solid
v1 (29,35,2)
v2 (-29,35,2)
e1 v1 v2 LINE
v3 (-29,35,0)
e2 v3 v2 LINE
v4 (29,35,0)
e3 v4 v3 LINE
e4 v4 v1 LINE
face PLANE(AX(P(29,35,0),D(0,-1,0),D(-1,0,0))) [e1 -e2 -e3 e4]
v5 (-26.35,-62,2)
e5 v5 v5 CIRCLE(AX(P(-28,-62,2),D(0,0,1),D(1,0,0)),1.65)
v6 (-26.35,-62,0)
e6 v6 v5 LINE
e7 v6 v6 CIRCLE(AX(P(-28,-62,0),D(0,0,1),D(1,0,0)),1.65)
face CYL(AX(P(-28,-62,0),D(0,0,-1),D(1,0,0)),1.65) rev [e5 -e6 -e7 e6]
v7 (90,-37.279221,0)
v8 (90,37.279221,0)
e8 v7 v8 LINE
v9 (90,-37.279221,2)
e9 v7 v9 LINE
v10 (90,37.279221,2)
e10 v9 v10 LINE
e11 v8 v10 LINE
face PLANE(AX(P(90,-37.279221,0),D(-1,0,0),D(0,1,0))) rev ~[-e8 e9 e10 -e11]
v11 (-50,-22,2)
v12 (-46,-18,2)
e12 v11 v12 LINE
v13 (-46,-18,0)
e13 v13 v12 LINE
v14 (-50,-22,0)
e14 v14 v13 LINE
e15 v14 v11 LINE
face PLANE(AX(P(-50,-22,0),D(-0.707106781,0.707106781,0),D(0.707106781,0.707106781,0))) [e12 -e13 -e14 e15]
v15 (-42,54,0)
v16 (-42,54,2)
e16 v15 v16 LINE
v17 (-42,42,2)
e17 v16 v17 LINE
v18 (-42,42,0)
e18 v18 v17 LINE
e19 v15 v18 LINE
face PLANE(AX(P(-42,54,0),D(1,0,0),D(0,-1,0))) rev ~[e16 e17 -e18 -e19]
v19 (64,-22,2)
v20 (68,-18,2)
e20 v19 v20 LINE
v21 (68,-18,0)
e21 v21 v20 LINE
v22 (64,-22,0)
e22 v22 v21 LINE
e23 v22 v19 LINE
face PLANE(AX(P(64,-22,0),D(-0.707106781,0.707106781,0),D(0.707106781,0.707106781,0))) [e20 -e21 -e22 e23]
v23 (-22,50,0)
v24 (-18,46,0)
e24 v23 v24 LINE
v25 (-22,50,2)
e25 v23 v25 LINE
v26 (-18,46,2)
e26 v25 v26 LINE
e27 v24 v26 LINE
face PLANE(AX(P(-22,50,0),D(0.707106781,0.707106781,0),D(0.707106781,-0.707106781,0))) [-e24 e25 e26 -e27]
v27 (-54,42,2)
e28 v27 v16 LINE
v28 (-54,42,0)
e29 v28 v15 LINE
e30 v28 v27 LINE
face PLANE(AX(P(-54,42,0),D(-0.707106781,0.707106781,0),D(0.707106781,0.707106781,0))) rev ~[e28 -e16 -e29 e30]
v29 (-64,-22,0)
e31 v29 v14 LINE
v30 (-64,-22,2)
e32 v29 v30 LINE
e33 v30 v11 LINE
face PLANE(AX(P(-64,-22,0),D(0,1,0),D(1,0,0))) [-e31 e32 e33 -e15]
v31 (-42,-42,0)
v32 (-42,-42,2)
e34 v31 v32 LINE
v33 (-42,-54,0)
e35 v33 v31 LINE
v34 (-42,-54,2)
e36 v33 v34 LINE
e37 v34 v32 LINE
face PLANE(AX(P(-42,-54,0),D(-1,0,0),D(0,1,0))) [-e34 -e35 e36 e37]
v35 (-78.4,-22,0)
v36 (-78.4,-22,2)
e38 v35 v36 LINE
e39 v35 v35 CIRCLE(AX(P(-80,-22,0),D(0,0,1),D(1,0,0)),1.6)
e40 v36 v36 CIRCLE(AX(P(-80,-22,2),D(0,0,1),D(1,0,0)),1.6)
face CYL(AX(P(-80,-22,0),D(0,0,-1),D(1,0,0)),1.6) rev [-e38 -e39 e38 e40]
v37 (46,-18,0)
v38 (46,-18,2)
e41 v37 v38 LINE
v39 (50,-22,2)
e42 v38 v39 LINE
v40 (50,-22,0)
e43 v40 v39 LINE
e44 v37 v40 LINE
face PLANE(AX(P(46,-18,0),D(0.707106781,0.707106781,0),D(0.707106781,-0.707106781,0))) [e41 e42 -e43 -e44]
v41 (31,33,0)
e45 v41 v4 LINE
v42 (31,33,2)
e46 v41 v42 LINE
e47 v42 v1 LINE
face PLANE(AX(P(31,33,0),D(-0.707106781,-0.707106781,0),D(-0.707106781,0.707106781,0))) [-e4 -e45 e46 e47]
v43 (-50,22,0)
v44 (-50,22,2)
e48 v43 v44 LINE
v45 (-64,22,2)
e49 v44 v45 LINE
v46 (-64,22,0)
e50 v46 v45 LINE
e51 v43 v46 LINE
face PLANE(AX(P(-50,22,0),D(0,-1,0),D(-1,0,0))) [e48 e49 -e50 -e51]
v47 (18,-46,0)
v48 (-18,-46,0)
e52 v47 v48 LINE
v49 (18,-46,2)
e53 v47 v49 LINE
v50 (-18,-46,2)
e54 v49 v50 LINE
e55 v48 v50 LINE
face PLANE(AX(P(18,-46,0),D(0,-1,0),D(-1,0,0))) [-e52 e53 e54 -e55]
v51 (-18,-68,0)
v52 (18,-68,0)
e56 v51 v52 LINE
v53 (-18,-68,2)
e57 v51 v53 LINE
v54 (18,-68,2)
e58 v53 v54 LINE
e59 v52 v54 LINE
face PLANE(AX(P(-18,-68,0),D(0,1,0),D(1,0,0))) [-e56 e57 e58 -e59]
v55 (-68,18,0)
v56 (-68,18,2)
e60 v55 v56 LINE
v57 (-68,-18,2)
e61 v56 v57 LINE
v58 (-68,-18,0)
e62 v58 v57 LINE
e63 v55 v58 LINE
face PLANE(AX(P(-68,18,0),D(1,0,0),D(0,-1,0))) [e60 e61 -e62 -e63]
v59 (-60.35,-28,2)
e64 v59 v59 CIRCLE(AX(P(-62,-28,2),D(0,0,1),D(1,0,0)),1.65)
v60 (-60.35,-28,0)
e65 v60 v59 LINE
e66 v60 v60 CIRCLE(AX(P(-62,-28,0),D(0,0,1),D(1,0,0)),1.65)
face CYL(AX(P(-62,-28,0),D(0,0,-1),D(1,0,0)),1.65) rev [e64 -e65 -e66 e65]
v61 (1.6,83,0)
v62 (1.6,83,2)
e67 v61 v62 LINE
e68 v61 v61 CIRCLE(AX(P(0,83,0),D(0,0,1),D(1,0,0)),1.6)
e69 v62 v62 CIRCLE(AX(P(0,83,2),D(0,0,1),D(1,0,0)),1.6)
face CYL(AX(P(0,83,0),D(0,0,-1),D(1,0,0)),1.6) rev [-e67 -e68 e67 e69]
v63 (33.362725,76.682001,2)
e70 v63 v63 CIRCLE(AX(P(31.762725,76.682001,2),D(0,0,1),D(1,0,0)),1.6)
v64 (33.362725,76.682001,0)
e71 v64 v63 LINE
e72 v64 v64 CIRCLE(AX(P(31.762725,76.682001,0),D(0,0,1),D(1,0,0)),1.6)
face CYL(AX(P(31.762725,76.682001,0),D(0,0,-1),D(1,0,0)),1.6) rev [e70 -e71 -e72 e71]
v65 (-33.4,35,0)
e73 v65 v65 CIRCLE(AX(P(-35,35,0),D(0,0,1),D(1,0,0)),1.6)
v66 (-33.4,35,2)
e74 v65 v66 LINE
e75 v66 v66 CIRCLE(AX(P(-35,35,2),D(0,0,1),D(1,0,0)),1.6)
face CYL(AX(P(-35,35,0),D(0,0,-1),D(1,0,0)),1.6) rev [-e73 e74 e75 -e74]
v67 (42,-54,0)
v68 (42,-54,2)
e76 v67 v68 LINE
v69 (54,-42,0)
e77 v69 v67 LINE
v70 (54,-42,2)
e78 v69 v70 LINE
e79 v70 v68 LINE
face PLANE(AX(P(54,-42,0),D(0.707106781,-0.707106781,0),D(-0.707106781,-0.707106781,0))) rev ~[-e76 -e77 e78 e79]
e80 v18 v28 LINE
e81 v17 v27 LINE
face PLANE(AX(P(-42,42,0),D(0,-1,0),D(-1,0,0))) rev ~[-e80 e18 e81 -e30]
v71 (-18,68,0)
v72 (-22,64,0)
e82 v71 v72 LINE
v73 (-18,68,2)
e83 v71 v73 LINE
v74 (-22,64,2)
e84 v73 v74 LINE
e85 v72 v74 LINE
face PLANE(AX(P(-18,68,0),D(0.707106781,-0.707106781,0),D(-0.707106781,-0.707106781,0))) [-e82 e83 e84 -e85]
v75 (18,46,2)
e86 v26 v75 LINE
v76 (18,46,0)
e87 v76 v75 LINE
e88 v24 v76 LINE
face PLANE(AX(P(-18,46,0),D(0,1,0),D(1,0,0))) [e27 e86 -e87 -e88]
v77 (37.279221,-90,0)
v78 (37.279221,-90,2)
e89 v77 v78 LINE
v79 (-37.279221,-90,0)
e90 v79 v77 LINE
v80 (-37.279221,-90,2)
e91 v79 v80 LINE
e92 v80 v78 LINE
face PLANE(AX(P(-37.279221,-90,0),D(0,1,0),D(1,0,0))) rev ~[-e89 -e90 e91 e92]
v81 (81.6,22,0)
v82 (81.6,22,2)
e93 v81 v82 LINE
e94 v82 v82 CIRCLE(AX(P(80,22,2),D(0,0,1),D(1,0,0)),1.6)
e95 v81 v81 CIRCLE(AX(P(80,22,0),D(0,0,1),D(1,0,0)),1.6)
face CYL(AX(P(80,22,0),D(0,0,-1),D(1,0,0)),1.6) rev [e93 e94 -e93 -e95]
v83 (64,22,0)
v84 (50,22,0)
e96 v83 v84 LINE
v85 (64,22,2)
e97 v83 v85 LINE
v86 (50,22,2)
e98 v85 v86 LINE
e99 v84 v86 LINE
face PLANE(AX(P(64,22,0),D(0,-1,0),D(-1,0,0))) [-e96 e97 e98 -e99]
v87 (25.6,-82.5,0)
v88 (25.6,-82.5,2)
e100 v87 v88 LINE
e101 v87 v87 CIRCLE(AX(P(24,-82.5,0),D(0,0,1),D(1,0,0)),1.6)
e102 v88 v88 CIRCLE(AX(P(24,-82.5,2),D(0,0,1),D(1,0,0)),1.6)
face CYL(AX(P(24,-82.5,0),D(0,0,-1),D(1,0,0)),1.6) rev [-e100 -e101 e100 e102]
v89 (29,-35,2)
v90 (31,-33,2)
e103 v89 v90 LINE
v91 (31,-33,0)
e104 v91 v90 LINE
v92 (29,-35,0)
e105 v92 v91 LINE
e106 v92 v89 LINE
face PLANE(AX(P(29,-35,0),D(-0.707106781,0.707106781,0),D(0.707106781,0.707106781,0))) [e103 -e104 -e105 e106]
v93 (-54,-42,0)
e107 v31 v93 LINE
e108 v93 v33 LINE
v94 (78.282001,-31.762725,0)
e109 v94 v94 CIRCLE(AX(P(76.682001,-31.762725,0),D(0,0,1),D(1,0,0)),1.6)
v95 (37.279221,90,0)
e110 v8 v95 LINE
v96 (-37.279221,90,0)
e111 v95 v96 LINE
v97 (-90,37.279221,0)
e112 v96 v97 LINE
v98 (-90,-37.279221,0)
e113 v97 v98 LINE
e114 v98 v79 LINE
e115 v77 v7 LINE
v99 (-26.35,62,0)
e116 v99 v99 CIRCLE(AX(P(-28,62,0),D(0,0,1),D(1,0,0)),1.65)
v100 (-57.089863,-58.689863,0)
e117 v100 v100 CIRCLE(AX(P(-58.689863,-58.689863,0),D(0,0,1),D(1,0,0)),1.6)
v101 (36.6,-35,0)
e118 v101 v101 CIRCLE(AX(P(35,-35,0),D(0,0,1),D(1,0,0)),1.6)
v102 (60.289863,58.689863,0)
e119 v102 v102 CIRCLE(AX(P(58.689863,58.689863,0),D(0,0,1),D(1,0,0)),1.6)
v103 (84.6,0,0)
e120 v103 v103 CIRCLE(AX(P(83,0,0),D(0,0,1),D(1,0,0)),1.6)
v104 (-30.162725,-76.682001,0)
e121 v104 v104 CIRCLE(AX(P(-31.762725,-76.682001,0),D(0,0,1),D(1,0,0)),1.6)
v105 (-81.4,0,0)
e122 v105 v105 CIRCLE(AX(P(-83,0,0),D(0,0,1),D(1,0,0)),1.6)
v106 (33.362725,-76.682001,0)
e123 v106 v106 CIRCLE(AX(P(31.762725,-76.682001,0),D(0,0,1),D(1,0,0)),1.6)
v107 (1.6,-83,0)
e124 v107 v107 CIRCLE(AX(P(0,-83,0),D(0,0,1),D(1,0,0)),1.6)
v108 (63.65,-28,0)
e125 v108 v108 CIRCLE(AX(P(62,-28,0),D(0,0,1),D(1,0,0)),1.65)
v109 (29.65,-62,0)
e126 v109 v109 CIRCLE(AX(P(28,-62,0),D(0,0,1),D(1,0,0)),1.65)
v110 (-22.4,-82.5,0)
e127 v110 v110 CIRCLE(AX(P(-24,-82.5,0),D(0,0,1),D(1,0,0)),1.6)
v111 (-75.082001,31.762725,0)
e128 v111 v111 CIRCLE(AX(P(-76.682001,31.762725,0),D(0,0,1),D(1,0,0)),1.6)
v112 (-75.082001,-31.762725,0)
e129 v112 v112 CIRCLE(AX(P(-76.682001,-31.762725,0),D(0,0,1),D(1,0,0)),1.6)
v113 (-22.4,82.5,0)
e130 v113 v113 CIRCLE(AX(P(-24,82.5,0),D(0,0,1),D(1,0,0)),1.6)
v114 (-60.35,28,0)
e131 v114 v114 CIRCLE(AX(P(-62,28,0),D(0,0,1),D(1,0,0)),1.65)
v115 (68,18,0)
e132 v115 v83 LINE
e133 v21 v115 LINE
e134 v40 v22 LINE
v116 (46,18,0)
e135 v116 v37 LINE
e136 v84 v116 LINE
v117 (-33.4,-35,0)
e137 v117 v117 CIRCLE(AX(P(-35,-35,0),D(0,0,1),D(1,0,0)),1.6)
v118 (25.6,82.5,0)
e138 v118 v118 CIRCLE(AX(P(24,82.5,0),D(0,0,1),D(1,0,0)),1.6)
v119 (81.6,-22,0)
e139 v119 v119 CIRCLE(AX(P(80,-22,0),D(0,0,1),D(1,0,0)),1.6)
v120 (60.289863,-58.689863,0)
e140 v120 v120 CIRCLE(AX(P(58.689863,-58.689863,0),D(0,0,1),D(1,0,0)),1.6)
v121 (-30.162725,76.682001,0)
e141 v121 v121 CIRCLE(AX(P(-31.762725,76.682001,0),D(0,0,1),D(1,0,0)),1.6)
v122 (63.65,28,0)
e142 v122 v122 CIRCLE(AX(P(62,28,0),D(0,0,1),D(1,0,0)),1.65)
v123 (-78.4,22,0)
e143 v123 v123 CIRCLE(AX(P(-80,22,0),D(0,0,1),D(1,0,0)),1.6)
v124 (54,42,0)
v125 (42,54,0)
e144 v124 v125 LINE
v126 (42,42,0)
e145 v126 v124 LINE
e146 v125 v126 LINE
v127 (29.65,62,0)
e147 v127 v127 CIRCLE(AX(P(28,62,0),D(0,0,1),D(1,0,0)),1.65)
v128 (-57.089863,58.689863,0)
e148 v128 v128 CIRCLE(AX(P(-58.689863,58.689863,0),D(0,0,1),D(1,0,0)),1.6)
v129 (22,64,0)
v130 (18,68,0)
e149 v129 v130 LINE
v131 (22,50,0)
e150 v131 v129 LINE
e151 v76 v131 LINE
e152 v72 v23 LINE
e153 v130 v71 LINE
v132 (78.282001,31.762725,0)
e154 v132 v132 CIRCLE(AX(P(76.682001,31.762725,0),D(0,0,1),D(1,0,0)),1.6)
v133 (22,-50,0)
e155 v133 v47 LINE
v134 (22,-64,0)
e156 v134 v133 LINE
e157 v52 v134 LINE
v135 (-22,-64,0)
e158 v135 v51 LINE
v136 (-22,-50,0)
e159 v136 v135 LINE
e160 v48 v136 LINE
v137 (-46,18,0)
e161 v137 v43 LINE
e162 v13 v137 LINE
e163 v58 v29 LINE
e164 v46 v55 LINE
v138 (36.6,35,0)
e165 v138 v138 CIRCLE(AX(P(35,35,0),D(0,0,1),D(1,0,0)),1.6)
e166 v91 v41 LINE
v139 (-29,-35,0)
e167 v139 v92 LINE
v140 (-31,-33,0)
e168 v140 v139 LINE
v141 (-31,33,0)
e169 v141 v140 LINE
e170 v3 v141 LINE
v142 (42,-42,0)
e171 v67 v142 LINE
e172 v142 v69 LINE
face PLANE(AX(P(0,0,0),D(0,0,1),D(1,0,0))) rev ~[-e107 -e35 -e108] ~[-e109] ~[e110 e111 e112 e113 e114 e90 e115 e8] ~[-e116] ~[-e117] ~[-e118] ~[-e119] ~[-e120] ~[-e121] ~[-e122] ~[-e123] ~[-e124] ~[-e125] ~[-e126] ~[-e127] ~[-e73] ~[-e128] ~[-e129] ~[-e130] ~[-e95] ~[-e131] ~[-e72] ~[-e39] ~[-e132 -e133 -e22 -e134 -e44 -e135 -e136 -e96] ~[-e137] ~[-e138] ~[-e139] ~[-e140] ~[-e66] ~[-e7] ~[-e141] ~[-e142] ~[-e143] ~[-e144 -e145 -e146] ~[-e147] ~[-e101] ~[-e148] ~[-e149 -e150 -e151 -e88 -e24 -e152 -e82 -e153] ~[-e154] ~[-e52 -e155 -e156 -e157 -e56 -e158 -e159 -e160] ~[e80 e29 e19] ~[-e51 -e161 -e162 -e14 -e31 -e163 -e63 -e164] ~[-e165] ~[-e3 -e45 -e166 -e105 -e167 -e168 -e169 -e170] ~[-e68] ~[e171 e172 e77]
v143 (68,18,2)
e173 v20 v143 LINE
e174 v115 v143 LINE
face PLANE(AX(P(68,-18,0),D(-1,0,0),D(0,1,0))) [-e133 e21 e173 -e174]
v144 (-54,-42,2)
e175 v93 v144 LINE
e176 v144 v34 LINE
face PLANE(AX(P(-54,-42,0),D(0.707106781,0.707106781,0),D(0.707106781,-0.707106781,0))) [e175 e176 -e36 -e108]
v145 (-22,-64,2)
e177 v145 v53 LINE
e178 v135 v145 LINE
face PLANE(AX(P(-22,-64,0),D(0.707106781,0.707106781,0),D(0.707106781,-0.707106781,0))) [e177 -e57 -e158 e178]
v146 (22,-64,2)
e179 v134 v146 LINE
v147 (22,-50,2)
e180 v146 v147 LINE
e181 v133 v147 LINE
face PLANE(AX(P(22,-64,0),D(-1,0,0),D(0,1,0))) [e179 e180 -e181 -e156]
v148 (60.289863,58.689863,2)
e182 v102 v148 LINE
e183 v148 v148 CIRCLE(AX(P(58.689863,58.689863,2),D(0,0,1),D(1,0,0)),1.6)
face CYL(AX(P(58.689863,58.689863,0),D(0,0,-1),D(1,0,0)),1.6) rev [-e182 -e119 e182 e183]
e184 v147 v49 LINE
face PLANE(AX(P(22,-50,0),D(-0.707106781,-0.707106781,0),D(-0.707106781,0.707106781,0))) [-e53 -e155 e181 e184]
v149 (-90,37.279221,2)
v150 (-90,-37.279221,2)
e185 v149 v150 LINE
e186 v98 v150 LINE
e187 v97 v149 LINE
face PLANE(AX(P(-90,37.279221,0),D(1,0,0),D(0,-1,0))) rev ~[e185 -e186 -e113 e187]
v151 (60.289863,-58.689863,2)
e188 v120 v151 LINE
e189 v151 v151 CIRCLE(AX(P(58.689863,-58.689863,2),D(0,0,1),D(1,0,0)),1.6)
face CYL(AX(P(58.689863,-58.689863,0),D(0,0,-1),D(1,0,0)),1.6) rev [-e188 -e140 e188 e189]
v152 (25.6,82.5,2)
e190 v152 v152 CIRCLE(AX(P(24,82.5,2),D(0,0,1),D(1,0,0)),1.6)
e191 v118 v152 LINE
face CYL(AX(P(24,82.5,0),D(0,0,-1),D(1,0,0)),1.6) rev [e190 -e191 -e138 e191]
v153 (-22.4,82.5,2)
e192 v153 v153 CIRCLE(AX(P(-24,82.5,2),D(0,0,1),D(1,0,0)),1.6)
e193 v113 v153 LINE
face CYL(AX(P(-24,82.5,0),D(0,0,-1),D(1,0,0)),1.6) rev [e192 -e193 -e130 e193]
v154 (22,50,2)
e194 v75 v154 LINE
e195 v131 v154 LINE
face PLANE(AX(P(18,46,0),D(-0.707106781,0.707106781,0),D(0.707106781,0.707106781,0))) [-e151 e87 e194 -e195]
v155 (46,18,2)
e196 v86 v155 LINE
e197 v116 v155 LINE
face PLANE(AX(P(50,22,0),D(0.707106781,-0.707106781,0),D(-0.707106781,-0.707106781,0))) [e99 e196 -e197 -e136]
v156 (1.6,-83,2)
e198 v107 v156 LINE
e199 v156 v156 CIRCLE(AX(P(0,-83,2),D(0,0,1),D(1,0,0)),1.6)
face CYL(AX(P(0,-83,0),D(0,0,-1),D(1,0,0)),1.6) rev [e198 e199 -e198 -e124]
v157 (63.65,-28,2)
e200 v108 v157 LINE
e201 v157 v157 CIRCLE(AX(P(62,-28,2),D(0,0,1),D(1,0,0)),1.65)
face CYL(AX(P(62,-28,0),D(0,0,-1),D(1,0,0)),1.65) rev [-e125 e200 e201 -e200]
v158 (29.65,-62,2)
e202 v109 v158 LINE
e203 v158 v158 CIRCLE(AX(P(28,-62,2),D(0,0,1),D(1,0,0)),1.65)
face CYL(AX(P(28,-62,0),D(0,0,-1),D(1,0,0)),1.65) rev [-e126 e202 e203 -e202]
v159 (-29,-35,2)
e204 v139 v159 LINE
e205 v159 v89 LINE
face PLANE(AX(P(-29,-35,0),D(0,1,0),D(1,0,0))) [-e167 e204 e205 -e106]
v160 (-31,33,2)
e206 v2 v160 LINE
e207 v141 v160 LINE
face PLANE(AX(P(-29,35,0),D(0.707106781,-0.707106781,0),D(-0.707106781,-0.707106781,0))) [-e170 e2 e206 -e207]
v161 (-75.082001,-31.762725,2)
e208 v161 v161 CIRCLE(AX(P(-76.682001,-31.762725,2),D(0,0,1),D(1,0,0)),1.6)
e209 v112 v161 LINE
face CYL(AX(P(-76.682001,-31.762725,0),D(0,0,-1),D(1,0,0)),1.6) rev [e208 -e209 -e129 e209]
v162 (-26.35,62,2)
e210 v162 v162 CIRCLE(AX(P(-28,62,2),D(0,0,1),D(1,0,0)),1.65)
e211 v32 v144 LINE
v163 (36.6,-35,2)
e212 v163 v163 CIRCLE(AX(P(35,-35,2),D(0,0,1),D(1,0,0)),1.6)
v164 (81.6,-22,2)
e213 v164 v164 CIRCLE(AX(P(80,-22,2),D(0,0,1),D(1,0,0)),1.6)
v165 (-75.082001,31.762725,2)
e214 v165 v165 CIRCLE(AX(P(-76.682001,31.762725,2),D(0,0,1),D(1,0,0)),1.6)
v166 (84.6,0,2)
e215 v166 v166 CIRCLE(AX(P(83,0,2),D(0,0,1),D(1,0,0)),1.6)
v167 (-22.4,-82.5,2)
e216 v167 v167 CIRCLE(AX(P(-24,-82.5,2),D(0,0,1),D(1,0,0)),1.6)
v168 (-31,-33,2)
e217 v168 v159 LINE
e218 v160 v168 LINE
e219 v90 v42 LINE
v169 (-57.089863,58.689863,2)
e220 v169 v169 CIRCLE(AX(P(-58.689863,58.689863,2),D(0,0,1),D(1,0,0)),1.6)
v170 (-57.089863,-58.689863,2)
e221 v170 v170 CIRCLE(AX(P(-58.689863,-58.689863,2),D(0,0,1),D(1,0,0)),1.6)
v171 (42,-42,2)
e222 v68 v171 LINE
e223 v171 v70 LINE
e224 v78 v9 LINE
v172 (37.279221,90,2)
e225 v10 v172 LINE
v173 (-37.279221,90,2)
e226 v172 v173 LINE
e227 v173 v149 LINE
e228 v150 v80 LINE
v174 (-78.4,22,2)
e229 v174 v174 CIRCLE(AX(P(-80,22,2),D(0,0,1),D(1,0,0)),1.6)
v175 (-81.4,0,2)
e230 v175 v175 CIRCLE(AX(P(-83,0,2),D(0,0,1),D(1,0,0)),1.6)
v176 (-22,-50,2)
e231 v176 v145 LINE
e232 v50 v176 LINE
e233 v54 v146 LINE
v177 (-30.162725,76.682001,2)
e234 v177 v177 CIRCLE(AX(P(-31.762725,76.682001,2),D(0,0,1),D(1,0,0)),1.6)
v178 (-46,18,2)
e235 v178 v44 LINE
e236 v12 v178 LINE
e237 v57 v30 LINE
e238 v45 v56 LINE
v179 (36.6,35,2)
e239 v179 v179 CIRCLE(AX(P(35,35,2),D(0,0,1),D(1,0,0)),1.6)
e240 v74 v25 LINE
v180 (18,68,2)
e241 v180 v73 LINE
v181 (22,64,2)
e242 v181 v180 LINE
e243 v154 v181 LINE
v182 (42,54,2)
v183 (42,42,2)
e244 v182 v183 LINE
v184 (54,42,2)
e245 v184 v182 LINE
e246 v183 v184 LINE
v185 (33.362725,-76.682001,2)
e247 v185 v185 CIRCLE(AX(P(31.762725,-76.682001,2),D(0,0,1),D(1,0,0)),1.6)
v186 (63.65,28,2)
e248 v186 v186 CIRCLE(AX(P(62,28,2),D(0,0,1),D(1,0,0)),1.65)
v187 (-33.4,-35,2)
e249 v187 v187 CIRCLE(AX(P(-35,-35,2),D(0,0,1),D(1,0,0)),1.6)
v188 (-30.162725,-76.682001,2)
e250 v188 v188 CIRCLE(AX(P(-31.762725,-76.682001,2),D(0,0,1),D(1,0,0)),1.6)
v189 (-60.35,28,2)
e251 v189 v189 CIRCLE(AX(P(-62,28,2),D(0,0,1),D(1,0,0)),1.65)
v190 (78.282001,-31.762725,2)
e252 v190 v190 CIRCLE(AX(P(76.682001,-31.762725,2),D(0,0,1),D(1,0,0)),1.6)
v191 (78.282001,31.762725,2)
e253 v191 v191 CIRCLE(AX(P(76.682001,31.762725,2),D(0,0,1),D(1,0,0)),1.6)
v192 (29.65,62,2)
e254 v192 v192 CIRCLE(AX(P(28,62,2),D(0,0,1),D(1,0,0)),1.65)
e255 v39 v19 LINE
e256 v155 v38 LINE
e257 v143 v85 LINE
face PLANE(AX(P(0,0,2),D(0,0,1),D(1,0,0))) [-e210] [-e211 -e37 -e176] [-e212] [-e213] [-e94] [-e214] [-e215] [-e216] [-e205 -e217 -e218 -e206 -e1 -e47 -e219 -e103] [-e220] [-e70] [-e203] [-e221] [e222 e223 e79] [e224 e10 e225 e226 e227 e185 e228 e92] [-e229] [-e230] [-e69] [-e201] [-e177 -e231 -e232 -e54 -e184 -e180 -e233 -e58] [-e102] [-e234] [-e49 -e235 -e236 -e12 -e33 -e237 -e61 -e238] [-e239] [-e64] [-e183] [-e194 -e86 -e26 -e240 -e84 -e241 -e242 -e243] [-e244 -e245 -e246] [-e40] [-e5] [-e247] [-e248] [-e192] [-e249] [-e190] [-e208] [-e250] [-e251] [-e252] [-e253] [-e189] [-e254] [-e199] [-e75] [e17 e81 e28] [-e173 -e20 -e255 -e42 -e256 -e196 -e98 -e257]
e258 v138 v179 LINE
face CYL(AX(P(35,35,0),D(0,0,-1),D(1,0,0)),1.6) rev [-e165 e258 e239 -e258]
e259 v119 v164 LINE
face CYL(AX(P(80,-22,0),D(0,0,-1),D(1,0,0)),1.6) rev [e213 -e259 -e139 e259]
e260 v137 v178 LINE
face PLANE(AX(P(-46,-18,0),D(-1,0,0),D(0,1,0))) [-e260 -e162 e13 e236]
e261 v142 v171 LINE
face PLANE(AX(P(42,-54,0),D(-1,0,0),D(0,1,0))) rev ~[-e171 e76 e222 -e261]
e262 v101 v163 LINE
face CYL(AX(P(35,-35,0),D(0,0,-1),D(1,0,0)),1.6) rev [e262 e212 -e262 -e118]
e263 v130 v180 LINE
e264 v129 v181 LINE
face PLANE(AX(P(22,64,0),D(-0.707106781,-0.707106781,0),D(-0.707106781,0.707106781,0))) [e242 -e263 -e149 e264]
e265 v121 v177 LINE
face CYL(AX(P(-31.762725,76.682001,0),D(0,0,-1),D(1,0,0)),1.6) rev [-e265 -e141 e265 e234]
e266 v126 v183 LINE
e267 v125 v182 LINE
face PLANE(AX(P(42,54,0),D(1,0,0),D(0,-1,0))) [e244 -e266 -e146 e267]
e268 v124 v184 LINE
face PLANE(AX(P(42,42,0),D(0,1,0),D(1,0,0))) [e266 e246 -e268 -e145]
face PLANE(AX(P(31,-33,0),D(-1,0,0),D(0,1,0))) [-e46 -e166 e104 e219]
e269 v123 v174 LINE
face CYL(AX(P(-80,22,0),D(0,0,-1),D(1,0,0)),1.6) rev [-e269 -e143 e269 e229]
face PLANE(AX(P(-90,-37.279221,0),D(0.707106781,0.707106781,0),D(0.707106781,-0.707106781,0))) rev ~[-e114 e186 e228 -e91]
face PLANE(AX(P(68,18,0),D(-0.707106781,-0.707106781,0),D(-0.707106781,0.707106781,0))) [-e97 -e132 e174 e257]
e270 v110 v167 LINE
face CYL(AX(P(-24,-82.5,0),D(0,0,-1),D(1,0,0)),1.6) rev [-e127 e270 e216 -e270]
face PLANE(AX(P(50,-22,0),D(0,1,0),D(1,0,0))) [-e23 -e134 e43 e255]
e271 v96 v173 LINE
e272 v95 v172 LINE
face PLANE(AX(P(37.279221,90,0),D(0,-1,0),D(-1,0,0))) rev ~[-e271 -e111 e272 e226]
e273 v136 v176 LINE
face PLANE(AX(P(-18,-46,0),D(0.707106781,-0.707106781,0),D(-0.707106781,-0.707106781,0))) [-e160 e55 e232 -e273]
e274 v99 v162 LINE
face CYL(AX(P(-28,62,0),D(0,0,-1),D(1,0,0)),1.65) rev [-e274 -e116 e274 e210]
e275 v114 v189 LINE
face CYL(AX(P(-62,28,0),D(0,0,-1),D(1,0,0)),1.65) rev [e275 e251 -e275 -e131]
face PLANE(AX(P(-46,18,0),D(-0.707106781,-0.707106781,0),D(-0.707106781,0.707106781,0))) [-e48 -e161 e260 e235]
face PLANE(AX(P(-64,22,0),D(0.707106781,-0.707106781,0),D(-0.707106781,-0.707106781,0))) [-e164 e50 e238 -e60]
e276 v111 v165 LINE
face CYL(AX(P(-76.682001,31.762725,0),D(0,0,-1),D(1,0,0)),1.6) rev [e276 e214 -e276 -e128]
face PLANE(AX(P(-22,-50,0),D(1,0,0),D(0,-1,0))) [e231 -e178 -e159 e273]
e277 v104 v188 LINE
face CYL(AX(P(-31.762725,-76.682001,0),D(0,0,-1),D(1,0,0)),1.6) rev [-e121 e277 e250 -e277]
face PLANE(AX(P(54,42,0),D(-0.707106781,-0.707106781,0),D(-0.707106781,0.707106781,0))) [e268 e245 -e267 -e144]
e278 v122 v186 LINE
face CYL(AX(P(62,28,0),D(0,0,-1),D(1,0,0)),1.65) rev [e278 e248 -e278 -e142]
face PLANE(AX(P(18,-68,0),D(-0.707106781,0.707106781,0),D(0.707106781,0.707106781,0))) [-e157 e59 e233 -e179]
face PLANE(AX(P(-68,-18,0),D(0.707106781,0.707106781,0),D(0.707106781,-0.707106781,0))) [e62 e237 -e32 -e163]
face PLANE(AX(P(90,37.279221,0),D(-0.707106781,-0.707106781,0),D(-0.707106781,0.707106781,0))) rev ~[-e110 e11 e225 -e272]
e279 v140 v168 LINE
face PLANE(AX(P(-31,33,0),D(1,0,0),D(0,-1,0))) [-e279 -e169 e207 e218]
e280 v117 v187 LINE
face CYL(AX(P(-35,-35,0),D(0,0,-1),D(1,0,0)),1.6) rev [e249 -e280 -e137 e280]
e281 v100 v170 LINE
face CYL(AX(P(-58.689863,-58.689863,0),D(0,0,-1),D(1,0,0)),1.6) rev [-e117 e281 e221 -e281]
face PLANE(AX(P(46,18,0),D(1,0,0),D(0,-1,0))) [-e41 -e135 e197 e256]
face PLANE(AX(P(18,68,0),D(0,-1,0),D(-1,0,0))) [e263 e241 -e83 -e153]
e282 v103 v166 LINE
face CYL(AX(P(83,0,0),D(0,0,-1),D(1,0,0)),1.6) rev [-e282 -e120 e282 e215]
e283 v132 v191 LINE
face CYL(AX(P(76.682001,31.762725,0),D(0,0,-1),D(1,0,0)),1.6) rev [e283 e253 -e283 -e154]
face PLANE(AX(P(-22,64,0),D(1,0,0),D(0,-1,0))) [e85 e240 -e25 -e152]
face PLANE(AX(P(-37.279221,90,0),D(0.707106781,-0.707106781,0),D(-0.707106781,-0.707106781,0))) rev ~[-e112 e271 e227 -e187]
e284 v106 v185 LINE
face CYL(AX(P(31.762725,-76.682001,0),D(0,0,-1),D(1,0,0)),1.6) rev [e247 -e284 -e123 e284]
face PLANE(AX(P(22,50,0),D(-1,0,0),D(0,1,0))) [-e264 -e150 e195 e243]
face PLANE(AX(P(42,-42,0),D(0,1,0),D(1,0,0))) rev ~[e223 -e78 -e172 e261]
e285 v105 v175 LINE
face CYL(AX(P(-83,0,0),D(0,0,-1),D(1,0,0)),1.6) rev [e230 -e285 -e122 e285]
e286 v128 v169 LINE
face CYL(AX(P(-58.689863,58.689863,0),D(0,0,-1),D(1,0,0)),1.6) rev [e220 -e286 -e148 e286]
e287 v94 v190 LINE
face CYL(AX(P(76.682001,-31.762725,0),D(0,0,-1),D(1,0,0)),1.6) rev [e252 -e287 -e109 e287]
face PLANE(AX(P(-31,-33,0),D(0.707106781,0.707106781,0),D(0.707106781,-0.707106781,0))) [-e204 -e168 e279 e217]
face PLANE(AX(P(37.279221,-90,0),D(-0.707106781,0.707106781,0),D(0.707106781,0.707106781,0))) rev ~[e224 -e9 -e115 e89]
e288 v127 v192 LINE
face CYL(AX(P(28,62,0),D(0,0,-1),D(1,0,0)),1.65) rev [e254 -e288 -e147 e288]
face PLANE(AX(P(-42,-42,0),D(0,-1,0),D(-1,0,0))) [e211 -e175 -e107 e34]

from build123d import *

# Parameters (mm, degrees)
SKETCH_1_R              = 1.6
EXTRUDE_16_DEPTH        = 2
SKETCH_2_R              = 1.6
CUT_EXTRUDE_M3_DEPTH    = 2
CUT_EXTRUDE_537_DEPTH   = 2
SKETCH_4_R              = 1.65
F_8XM3_DEPTH            = 2
CUT_EXTRUDE_62X70_DEPTH = 2


with BuildPart() as part:
    # 草图1 → 正八边形下板_外围16孔_无支脚孔 (new body)
    with BuildSketch(Plane.XY):
        Polygon((90, 37.279220614), (37.279220614, 90), (-37.279220614, 90), (-90, 37.279220614), (-90, -37.279220614), (-37.279220614, -90), (37.279220614, -90), (90, -37.279220614), align=None)
        with Locations((83, 0)):
            Circle(SKETCH_1_R, mode=Mode.SUBTRACT)
        with Locations((76.682001198, 31.762724886)):
            Circle(SKETCH_1_R, mode=Mode.SUBTRACT)
        with Locations((58.689862838, 58.689862838)):
            Circle(SKETCH_1_R, mode=Mode.SUBTRACT)
        with Locations((31.762724886, 76.682001198)):
            Circle(SKETCH_1_R, mode=Mode.SUBTRACT)
        with Locations((0, 83)):
            Circle(SKETCH_1_R, mode=Mode.SUBTRACT)
        with Locations((-31.762724886, 76.682001198)):
            Circle(SKETCH_1_R, mode=Mode.SUBTRACT)
        with Locations((-58.689862838, 58.689862838)):
            Circle(SKETCH_1_R, mode=Mode.SUBTRACT)
        with Locations((-76.682001198, 31.762724886)):
            Circle(SKETCH_1_R, mode=Mode.SUBTRACT)
        with Locations((-83, 0)):
            Circle(SKETCH_1_R, mode=Mode.SUBTRACT)
        with Locations((-76.682001198, -31.762724886)):
            Circle(SKETCH_1_R, mode=Mode.SUBTRACT)
        with Locations((-58.689862838, -58.689862838)):
            Circle(SKETCH_1_R, mode=Mode.SUBTRACT)
        with Locations((-31.762724886, -76.682001198)):
            Circle(SKETCH_1_R, mode=Mode.SUBTRACT)
        with Locations((0, -83)):
            Circle(SKETCH_1_R, mode=Mode.SUBTRACT)
        with Locations((31.762724886, -76.682001198)):
            Circle(SKETCH_1_R, mode=Mode.SUBTRACT)
        with Locations((58.689862838, -58.689862838)):
            Circle(SKETCH_1_R, mode=Mode.SUBTRACT)
        with Locations((76.682001198, -31.762724886)):
            Circle(SKETCH_1_R, mode=Mode.SUBTRACT)
        with Locations((-35, -35)):
            Circle(SKETCH_1_R, mode=Mode.SUBTRACT)
        with Locations((-35, 35)):
            Circle(SKETCH_1_R, mode=Mode.SUBTRACT)
        with Locations((35, -35)):
            Circle(SKETCH_1_R, mode=Mode.SUBTRACT)
        with Locations((35, 35)):
            Circle(SKETCH_1_R, mode=Mode.SUBTRACT)
        with Locations((-24, -82.5)):
            Circle(SKETCH_1_R, mode=Mode.SUBTRACT)
        with Locations((-24, 82.5)):
            Circle(SKETCH_1_R, mode=Mode.SUBTRACT)
        with Locations((24, -82.5)):
            Circle(SKETCH_1_R, mode=Mode.SUBTRACT)
        with Locations((24, 82.5)):
            Circle(SKETCH_1_R, mode=Mode.SUBTRACT)
    extrude(amount=EXTRUDE_16_DEPTH)

    # 草图2 → 左右摄像头铰链M3孔 (cut)
    with BuildSketch(Plane.XY):
        with Locations((-80, -22)):
            Circle(SKETCH_2_R)
        with Locations((-80, 22)):
            Circle(SKETCH_2_R)
        with Locations((80, -22)):
            Circle(SKETCH_2_R)
        with Locations((80, 22)):
            Circle(SKETCH_2_R)
    extrude(amount=CUT_EXTRUDE_M3_DEPTH, mode=Mode.SUBTRACT)

    # 草图3 → Cut-Extrude 537 (cut)
    with BuildSketch(Plane.XY):
        Polygon((24, 9.941125497), (9.941125497, 24), (-9.941125497, 24), (-24, 9.941125497), (-24, -9.941125497), (-9.941125497, -24), (9.941125497, -24), (24, -9.941125497), align=None)
        Polygon((-18, 46), (18, 46), (22, 50), (22, 64), (18, 68), (-18, 68), (-22, 64), (-22, 50), align=None)
        Polygon((-46, -18), (-46, 18), (-50, 22), (-64, 22), (-68, 18), (-68, -18), (-64, -22), (-50, -22), align=None)
        Polygon((18, -46), (-18, -46), (-22, -50), (-22, -64), (-18, -68), (18, -68), (22, -64), (22, -50), align=None)
        Polygon((46, 18), (46, -18), (50, -22), (64, -22), (68, -18), (68, 18), (64, 22), (50, 22), align=None)
        Polygon((-42, -42), (-54, -42), (-42, -54), align=None)
        Polygon((-42, 42), (-54, 42), (-42, 54), align=None)
        Polygon((42, -42), (54, -42), (42, -54), align=None)
        Polygon((42, 42), (54, 42), (42, 54), align=None)
    extrude(amount=CUT_EXTRUDE_537_DEPTH, mode=Mode.SUBTRACT)

    # 草图4 → 四向侧支脚上角座8xM3 (cut)
    with BuildSketch(Plane.XY):
        with Locations((-28, -62)):
            Circle(SKETCH_4_R)
        with Locations((-62, -28)):
            Circle(SKETCH_4_R)
        with Locations((28, -62)):
            Circle(SKETCH_4_R)
        with Locations((-62, 28)):
            Circle(SKETCH_4_R)
        with Locations((-28, 62)):
            Circle(SKETCH_4_R)
        with Locations((62, -28)):
            Circle(SKETCH_4_R)
        with Locations((28, 62)):
            Circle(SKETCH_4_R)
        with Locations((62, 28)):
            Circle(SKETCH_4_R)
    extrude(amount=F_8XM3_DEPTH, mode=Mode.SUBTRACT)

    # 草图6 → 飞控螺丝检修口_62x70 (cut)
    with BuildSketch(Plane.XY):
        Polygon((-29, -35), (29, -35), (31, -33), (31, 33), (29, 35), (-29, 35), (-31, 33), (-31, -33), align=None)
    extrude(amount=CUT_EXTRUDE_62X70_DEPTH, mode=Mode.SUBTRACT)


solid = part.part
